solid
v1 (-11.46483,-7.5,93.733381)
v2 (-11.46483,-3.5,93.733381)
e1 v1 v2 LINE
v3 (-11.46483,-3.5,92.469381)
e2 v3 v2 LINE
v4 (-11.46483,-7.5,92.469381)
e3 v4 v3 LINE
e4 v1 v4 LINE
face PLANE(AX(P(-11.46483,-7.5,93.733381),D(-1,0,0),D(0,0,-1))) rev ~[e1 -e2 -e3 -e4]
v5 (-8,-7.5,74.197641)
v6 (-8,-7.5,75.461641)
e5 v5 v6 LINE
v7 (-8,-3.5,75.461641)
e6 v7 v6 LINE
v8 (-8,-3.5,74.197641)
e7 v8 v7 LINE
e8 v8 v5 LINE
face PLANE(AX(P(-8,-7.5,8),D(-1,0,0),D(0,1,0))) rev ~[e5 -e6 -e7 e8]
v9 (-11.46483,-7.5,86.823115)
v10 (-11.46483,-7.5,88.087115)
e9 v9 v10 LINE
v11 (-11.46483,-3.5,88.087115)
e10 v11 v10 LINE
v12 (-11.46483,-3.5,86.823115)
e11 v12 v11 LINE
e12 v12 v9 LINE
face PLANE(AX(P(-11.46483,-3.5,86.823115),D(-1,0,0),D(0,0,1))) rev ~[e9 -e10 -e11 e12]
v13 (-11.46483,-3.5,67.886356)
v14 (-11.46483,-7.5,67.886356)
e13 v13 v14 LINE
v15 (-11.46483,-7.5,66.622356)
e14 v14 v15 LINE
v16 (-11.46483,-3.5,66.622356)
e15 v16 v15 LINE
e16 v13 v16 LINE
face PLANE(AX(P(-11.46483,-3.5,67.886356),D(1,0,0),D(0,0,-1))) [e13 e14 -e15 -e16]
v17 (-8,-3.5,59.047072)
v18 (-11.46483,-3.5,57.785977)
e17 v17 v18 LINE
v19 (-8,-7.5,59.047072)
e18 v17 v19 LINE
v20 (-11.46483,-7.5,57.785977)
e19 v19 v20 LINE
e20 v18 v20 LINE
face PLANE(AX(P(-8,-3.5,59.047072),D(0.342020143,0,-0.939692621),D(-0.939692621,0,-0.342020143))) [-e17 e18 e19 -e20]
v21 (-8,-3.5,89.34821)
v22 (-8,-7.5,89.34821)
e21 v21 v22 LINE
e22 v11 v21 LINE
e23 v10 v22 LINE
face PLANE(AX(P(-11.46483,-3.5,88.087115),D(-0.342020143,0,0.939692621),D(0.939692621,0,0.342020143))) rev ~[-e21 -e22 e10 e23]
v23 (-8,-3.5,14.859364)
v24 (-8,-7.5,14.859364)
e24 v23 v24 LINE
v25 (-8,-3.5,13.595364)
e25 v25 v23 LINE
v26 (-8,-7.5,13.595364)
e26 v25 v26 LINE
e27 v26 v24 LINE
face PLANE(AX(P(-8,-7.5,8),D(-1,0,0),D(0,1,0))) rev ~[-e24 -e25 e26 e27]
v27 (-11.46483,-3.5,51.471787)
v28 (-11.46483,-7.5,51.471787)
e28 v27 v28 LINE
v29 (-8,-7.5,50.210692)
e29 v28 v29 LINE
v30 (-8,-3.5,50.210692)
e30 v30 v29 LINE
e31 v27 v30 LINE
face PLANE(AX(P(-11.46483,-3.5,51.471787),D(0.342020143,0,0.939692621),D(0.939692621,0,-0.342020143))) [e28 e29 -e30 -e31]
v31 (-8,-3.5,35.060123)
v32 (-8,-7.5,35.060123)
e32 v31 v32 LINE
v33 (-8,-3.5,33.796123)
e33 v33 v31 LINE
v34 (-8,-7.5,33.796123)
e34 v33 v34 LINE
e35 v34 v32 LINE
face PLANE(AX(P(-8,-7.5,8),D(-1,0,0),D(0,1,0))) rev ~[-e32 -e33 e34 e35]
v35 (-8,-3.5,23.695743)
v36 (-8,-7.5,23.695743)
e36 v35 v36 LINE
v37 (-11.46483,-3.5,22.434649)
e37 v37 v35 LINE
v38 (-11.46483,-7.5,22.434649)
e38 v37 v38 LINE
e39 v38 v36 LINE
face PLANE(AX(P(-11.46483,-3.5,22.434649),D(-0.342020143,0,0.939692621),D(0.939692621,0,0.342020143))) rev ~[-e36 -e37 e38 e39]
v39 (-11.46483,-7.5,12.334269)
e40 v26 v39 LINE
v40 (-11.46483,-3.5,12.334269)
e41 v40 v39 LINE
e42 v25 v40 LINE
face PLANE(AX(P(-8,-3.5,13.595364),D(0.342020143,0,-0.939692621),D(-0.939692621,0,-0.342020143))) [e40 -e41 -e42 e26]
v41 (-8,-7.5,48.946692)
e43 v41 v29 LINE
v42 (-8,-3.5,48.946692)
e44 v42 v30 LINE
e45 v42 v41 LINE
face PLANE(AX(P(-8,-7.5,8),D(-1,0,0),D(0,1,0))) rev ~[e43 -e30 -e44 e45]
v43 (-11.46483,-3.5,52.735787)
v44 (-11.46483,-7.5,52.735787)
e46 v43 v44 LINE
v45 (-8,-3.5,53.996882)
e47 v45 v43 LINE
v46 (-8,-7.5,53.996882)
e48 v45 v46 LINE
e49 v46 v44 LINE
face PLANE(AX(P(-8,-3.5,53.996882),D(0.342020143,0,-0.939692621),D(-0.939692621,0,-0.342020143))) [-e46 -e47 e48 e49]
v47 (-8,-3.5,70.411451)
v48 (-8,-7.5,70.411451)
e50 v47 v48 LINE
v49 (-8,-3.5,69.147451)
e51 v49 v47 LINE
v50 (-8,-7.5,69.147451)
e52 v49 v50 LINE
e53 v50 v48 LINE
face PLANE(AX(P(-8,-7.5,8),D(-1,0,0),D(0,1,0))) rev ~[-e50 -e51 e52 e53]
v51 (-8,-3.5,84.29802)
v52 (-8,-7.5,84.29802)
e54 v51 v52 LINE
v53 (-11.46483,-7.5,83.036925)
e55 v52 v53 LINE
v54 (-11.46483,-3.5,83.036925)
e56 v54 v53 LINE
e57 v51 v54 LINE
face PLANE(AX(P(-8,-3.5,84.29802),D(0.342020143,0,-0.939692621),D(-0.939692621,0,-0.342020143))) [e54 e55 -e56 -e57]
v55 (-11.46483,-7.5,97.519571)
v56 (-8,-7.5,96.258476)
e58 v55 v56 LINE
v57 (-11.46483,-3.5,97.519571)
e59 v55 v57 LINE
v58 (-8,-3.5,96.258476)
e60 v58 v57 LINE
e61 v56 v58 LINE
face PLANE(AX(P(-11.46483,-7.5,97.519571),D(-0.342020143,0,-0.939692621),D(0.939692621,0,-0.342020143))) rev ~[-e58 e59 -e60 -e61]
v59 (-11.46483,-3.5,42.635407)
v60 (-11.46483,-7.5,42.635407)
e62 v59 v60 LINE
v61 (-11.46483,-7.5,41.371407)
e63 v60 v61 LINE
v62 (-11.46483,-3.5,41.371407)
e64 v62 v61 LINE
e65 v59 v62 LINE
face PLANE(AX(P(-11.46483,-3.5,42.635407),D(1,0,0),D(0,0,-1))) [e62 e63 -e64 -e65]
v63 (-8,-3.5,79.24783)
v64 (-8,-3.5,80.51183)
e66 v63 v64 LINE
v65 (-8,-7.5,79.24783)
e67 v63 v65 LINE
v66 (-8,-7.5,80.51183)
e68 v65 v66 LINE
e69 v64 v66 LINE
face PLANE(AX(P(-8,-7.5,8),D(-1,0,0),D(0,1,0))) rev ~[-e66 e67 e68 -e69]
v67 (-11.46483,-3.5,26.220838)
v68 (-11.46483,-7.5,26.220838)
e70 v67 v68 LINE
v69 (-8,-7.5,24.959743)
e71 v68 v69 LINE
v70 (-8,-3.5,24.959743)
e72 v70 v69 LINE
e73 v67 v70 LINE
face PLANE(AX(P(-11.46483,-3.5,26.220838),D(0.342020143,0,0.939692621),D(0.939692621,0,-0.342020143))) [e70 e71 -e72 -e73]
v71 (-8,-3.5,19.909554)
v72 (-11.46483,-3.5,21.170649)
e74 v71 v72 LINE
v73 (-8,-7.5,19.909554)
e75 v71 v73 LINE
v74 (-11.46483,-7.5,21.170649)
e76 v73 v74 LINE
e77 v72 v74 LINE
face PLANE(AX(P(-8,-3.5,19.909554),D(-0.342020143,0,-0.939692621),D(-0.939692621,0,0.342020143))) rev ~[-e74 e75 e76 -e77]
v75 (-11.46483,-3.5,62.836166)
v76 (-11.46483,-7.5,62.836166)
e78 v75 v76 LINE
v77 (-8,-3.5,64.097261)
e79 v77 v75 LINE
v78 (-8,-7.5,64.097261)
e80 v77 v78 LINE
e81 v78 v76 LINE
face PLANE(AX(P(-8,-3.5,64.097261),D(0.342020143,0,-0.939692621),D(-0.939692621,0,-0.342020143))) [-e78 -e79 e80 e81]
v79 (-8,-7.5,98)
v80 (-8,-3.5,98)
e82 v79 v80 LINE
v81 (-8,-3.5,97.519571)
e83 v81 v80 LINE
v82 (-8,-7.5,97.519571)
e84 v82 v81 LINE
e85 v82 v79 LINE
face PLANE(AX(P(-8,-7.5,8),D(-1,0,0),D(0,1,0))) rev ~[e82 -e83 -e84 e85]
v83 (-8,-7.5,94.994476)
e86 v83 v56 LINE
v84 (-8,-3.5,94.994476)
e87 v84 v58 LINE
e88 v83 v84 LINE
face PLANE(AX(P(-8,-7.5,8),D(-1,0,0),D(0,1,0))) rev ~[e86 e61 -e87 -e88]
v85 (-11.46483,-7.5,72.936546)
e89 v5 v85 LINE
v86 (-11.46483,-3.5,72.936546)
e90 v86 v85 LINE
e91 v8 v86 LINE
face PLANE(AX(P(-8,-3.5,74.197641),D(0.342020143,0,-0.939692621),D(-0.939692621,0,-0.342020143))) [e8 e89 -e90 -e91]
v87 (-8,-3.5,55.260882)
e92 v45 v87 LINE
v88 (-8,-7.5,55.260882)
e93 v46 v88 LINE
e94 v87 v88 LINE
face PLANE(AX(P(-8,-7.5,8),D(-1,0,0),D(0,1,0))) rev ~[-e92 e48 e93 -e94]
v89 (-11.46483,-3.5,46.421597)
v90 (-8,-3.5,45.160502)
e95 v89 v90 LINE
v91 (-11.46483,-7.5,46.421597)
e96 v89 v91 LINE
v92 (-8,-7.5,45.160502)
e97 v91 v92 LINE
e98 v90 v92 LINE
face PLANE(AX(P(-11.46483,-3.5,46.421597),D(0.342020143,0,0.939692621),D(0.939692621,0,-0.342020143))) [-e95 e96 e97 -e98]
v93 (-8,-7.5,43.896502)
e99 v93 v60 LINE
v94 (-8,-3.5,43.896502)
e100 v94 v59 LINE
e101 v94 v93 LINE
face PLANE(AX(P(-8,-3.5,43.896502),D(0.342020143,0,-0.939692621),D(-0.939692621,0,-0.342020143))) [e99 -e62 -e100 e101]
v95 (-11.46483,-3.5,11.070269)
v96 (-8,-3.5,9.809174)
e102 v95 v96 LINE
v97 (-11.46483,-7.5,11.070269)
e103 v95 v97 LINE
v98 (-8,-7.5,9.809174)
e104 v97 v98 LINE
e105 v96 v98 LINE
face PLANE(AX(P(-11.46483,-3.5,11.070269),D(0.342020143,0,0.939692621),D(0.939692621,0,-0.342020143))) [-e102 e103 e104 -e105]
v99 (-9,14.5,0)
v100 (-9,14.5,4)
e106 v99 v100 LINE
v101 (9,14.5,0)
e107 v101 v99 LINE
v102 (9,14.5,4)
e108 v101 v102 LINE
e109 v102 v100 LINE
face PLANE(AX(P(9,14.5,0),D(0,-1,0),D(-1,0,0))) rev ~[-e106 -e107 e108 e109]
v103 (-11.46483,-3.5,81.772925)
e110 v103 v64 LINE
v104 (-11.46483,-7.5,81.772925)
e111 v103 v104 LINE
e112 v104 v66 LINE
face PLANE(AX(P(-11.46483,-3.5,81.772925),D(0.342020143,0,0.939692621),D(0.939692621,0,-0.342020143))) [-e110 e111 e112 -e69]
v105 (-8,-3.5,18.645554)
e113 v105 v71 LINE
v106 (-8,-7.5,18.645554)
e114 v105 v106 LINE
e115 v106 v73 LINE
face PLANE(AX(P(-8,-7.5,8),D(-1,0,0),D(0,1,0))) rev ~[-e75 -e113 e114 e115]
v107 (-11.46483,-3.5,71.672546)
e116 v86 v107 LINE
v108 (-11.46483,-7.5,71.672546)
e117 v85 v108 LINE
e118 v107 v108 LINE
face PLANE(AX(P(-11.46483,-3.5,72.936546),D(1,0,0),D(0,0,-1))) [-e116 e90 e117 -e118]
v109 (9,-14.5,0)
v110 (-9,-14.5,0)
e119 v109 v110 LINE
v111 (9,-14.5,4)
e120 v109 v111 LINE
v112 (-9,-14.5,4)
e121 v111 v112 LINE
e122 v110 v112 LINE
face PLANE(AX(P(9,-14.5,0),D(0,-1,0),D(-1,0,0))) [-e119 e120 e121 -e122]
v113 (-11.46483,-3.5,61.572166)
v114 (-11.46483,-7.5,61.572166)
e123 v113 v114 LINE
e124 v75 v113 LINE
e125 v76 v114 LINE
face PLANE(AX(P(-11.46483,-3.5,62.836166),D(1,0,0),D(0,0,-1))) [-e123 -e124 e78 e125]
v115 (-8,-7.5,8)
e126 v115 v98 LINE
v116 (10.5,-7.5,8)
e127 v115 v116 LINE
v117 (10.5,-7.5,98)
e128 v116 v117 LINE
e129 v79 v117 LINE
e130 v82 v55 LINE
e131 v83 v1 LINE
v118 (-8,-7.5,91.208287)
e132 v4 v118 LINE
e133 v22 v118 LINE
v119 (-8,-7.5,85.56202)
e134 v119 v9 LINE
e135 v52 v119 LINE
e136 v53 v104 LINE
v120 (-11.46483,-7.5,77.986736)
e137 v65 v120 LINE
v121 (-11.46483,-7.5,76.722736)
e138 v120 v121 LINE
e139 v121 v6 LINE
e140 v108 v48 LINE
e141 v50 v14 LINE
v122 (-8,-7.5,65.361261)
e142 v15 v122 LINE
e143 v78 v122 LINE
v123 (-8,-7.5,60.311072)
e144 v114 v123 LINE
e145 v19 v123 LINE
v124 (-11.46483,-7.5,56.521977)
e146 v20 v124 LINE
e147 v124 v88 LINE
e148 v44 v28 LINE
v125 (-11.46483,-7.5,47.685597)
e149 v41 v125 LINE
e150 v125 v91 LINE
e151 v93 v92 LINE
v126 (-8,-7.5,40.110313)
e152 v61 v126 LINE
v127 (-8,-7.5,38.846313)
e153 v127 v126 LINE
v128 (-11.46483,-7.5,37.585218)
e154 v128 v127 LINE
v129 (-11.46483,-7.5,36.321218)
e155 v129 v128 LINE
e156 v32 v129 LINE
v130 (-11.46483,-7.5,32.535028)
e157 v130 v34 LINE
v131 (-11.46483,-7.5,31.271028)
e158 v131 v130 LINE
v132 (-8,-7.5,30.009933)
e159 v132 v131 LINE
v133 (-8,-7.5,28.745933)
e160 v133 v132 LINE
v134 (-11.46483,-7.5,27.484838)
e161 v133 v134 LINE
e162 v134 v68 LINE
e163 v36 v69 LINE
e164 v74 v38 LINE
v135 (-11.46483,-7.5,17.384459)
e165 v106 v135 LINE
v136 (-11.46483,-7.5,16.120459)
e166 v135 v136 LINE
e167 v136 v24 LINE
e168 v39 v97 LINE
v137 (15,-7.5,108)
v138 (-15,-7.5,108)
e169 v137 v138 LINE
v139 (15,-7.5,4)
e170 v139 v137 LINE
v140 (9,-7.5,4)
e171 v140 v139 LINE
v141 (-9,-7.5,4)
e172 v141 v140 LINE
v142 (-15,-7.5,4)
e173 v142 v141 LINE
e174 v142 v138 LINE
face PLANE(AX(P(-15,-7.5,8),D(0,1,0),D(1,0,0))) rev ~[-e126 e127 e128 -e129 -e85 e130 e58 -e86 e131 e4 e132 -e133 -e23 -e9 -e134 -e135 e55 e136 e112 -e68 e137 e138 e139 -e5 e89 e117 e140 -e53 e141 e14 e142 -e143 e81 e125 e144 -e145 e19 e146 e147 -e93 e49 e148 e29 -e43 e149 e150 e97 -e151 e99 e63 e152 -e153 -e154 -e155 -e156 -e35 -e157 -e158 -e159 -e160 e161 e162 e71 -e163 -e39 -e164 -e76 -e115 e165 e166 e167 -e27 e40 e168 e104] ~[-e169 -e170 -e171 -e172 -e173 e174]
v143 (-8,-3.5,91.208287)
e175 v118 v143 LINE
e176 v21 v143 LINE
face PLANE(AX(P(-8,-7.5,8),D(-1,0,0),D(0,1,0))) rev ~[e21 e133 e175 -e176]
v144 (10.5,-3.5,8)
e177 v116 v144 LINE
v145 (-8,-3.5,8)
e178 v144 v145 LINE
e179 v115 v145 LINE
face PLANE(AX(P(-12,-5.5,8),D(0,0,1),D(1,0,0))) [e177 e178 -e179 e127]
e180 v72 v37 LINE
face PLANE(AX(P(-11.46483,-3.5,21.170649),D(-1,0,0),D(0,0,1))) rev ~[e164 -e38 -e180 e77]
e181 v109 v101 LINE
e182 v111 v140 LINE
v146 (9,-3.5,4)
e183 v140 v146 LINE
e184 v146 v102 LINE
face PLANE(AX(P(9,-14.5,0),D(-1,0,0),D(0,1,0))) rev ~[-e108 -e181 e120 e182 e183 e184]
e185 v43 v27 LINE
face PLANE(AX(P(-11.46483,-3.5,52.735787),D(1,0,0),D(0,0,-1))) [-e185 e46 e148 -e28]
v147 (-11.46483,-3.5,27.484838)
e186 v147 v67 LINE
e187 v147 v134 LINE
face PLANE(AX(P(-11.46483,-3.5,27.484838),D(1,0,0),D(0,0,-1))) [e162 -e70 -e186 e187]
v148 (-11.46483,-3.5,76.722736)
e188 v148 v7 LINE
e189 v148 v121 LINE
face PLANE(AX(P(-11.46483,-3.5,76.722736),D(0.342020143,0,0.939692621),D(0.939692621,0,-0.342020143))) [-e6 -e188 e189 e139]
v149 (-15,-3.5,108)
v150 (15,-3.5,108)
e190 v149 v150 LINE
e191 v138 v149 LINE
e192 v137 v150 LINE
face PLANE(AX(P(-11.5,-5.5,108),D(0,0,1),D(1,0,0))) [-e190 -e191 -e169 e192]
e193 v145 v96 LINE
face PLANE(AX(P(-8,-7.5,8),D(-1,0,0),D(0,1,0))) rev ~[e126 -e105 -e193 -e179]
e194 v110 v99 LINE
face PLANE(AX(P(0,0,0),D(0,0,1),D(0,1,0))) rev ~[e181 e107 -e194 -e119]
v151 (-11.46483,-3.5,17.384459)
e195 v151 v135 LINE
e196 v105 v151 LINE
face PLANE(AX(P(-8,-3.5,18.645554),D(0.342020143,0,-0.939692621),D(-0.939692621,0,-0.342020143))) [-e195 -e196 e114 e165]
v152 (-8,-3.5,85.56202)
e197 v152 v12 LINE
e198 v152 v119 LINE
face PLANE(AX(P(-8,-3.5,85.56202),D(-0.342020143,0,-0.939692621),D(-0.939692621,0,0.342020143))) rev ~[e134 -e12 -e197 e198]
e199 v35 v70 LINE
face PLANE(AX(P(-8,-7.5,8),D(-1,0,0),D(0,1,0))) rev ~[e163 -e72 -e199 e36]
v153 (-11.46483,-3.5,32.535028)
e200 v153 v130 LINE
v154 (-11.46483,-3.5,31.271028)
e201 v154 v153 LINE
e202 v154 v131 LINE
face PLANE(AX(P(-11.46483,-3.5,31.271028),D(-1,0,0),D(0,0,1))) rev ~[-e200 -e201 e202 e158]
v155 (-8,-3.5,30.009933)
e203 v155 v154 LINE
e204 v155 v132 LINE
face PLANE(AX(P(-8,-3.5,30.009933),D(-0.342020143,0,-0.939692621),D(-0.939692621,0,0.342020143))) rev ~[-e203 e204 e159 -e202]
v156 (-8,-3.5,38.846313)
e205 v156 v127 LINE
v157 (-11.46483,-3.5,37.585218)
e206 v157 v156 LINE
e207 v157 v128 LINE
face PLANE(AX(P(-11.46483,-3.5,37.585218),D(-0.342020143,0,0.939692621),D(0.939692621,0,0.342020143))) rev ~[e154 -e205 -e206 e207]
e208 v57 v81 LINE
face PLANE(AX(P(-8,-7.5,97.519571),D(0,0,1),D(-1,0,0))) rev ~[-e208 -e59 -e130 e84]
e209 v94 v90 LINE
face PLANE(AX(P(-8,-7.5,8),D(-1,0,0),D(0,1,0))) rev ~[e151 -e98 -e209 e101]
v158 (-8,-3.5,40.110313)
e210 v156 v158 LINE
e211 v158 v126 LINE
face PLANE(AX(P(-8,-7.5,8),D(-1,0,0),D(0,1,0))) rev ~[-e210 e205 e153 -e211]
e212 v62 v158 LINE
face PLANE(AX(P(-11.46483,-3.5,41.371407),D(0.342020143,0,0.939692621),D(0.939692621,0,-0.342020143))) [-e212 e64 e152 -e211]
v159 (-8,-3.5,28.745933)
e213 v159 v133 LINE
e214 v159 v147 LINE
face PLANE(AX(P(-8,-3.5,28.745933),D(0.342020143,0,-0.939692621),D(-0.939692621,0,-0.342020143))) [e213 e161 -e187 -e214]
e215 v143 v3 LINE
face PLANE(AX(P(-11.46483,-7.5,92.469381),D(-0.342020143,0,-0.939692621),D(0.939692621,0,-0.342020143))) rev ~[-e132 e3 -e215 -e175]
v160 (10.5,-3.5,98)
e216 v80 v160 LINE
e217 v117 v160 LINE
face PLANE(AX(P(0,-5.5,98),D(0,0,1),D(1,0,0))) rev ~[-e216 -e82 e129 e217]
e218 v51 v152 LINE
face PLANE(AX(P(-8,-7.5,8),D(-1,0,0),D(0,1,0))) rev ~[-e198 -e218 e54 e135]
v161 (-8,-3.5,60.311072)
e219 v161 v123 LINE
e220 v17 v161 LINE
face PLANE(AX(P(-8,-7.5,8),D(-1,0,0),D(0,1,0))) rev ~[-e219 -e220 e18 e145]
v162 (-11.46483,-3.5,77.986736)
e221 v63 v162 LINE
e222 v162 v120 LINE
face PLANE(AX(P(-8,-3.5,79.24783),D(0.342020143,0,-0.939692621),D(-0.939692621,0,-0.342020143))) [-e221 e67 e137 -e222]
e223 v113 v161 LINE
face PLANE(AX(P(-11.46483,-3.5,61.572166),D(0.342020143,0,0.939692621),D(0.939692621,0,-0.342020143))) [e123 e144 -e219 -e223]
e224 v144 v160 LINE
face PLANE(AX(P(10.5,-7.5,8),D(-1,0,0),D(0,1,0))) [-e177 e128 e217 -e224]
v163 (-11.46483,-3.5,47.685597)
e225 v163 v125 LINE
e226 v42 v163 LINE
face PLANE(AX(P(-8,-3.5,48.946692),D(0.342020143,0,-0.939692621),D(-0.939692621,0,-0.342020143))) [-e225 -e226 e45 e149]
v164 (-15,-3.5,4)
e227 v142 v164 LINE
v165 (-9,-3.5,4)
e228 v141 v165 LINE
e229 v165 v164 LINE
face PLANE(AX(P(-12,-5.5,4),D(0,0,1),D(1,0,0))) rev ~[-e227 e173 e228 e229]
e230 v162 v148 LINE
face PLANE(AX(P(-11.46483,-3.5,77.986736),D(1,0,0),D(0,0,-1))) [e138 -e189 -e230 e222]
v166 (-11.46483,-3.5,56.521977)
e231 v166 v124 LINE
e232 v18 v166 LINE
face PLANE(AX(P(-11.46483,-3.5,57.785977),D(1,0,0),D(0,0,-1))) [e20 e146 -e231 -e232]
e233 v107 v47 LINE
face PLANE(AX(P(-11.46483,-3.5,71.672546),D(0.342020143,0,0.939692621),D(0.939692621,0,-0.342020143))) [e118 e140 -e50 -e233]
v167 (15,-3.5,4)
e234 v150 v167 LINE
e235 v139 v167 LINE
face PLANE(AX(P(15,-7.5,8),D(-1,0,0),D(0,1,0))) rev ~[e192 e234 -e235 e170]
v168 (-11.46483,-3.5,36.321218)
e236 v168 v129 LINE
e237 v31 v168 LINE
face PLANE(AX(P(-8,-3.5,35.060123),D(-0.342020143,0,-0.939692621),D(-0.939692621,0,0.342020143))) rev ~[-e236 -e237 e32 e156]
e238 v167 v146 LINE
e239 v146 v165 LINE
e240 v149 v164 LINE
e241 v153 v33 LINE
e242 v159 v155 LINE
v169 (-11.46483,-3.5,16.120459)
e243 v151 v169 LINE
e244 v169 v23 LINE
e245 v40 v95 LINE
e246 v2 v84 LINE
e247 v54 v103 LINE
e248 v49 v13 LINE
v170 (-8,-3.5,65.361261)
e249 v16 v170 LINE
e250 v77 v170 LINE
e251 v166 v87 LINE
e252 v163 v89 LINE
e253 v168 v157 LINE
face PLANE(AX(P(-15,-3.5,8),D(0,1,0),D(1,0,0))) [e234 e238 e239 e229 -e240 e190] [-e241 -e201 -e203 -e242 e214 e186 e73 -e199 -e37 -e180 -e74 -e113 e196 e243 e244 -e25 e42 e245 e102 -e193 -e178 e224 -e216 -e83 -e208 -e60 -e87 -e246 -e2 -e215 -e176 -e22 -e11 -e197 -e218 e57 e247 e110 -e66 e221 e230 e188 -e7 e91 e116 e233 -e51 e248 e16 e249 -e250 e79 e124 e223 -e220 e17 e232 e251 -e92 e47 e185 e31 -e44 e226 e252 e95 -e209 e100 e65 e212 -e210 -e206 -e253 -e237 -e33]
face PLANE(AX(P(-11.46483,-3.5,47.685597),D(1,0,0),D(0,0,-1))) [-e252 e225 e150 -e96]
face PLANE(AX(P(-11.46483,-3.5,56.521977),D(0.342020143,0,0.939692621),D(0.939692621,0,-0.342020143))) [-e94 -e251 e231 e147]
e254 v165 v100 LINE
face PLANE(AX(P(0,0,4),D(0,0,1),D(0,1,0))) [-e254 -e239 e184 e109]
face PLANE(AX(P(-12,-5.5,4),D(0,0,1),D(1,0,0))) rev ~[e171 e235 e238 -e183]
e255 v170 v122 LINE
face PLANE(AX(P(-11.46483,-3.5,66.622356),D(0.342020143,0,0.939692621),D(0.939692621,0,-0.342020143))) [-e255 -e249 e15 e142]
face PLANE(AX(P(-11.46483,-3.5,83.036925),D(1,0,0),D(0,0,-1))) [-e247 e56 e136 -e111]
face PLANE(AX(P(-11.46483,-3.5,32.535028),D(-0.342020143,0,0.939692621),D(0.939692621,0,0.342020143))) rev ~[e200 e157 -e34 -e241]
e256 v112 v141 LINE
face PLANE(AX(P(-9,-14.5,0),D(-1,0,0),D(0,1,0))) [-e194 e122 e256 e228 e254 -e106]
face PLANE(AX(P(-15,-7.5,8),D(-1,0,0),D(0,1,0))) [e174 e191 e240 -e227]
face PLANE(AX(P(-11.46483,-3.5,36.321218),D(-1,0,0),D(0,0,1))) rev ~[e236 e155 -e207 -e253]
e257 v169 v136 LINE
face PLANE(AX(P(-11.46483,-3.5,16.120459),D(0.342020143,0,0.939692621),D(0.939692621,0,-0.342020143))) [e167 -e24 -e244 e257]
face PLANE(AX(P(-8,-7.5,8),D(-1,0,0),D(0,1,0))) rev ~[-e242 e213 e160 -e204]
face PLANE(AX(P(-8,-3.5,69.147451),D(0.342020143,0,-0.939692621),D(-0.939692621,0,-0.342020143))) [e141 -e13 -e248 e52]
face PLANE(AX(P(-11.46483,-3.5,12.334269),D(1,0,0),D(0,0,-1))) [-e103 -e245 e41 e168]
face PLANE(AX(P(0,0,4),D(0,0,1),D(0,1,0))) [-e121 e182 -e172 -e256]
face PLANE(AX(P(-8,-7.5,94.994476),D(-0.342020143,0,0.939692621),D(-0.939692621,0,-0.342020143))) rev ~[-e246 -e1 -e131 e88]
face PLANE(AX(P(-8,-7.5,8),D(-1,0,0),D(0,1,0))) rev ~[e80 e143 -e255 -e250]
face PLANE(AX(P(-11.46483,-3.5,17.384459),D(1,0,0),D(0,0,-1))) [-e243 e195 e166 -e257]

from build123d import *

# Parameters (mm, degrees)
CROQUIS1_W              = 29
CROQUIS1_H              = 18
SALIENTE_EXTRUIR1_DEPTH = 4
CROQUIS2_W              = 6
CROQUIS2_H              = 4
CROQUIS2_W_2            = 9
SALIENTE_EXTRUIR3_DEPTH = 4
CROQUIS4_W              = 4.5
CROQUIS4_H              = 4
SALIENTE_EXTRUIR4_DEPTH = 100
CROQUIS5_W              = 7
CROQUIS5_H              = 4
SALIENTE_EXTRUIR5_DEPTH = 100
CROQUIS6_W              = 30
CROQUIS6_H              = 4
SALIENTE_EXTRUIR6_DEPTH = 10
CORTAR_EXTRUIR2_DEPTH   = 10
CORTAR_EXTRUIR3_DEPTH   = 10
CORTAR_EXTRUIR4_DEPTH   = 10
CORTAR_EXTRUIR5_DEPTH   = 10


with BuildPart() as part:
    # Croquis1 → Saliente-Extruir1 (new body)
    with BuildSketch(Plane(origin=(0, 0, 0), x_dir=(0, 1, 0), z_dir=(0, 0, 1))):
        Rectangle(CROQUIS1_W, CROQUIS1_H)
    extrude(amount=SALIENTE_EXTRUIR1_DEPTH)

    # Croquis2 → Saliente-Extruir3 (add)
    with BuildSketch(Plane.XY.offset(4)):
        with Locations((-12, -5.5)):
            Rectangle(CROQUIS2_W, CROQUIS2_H)
        with Locations((-4.5, -5.5)):
            Rectangle(CROQUIS2_W_2, CROQUIS2_H)
        with Locations((4.5, -5.5)):
            Rectangle(CROQUIS2_W_2, CROQUIS2_H)
        with Locations((12, -5.5)):
            Rectangle(CROQUIS2_W, CROQUIS2_H)
    extrude(amount=SALIENTE_EXTRUIR3_DEPTH)

    # Croquis4 → Saliente-Extruir4 (add)
    with BuildSketch(Plane.XY.offset(8)):
        with Locations((12.75, -5.5)):
            Rectangle(CROQUIS4_W, CROQUIS4_H)
    extrude(amount=SALIENTE_EXTRUIR4_DEPTH)

    # Croquis5 → Saliente-Extruir5 (add)
    with BuildSketch(Plane.XY.offset(8)):
        with Locations((-11.5, -5.5)):
            Rectangle(CROQUIS5_W, CROQUIS5_H)
    extrude(amount=SALIENTE_EXTRUIR5_DEPTH)

    # Croquis6 → Saliente-Extruir6 (add)
    with BuildSketch(Plane.XY.offset(108)):
        with Locations((0, -5.5)):
            Rectangle(CROQUIS6_W, CROQUIS6_H)
    extrude(amount=-SALIENTE_EXTRUIR6_DEPTH)

    # Croquis7 → Cortar-Extruir2 (cut)
    with BuildSketch(Plane.XZ.offset(7.5)):
        Polygon((-8, 96.258476268), (-8, 97.519571135), (-11.46482967, 97.519571135), align=None)
    extrude(amount=-CORTAR_EXTRUIR2_DEPTH, mode=Mode.SUBTRACT)

    # Croquis8 → Cortar-Extruir3 (cut)
    with BuildSketch(Plane(origin=(0, -7.5, 0), x_dir=(-1, 0, 0), z_dir=(0, -1, 0))):
        Polygon((8, -94.994476268), (11.46482967, -93.733381401), (8, -93.733381401), align=None)
    extrude(amount=-CORTAR_EXTRUIR3_DEPTH, mode=Mode.SUBTRACT)

    # Croquis9 → Cortar-Extruir4 (cut)
    with BuildSketch(Plane(origin=(0, -7.5, 0), x_dir=(-1, 0, 0), z_dir=(0, -1, 0))):
        Polygon((11.46482967, -93.733381401), (11.46482967, -92.469381401), (8, -91.208286534), (8, -93.733381401), align=None)
    extrude(amount=-CORTAR_EXTRUIR4_DEPTH, mode=Mode.SUBTRACT)

    # Croquis10 → Cortar-Extruir5 (cut)
    with BuildSketch(Plane(origin=(0, -3.5, 0), x_dir=(-1, 0, 0), z_dir=(0, 1, 0))):
        Polygon((11.46482967, 11.070269037), (8, 9.80917417), (8, 13.595363904), (11.46482967, 12.334269037), align=None)
        Polygon((11.46482967, 88.087115043), (8, 89.348209909), (8, 85.562020176), (11.46482967, 86.823115043), align=None)
        Polygon((8, 84.298020176), (11.46482967, 83.036925309), (11.46482967, 81.772925309), (8, 80.511830442), align=None)
        Polygon((8, 79.247830442), (11.46482967, 77.986735575), (11.46482967, 76.722735575), (8, 75.461640708), align=None)
        Polygon((8, 70.411450974), (8, 74.197640708), (11.46482967, 72.936545841), (11.46482967, 71.672545841), align=None)
        Polygon((8, 65.361261241), (8, 69.147450974), (11.46482967, 67.886356108), (11.46482967, 66.622356108), align=None)
        Polygon((8, 60.311071507), (8, 64.097261241), (11.46482967, 62.836166374), (11.46482967, 61.572166374), align=None)
        Polygon((8, 55.260881773), (8, 59.047071507), (11.46482967, 57.78597664), (11.46482967, 56.52197664), align=None)
        Polygon((8, 50.21069204), (8, 53.996881773), (11.46482967, 52.735786906), (11.46482967, 51.471786906), align=None)
        Polygon((8, 45.160502306), (8, 48.94669204), (11.46482967, 47.685597173), (11.46482967, 46.421597173), align=None)
        Polygon((8, 43.896502306), (11.46482967, 42.635407439), (11.46482967, 41.371407439), (8, 40.110312572), align=None)
        Polygon((8, 38.846312572), (8, 35.060122838), (11.46482967, 36.321217705), (11.46482967, 37.585217705), align=None)
        Polygon((8, 33.796122838), (8, 30.009933105), (11.46482967, 31.271027972), (11.46482967, 32.535027972), align=None)
        Polygon((8, 24.959743371), (8, 28.745933105), (11.46482967, 27.484838238), (11.46482967, 26.220838238), align=None)
        Polygon((8, 23.695743371), (8, 19.909553637), (11.46482967, 21.170648504), (11.46482967, 22.434648504), align=None)
        Polygon((8, 14.859363904), (8, 18.645553637), (11.46482967, 17.38445877), (11.46482967, 16.12045877), align=None)
    extrude(amount=-CORTAR_EXTRUIR5_DEPTH, mode=Mode.SUBTRACT)


solid = part.part
